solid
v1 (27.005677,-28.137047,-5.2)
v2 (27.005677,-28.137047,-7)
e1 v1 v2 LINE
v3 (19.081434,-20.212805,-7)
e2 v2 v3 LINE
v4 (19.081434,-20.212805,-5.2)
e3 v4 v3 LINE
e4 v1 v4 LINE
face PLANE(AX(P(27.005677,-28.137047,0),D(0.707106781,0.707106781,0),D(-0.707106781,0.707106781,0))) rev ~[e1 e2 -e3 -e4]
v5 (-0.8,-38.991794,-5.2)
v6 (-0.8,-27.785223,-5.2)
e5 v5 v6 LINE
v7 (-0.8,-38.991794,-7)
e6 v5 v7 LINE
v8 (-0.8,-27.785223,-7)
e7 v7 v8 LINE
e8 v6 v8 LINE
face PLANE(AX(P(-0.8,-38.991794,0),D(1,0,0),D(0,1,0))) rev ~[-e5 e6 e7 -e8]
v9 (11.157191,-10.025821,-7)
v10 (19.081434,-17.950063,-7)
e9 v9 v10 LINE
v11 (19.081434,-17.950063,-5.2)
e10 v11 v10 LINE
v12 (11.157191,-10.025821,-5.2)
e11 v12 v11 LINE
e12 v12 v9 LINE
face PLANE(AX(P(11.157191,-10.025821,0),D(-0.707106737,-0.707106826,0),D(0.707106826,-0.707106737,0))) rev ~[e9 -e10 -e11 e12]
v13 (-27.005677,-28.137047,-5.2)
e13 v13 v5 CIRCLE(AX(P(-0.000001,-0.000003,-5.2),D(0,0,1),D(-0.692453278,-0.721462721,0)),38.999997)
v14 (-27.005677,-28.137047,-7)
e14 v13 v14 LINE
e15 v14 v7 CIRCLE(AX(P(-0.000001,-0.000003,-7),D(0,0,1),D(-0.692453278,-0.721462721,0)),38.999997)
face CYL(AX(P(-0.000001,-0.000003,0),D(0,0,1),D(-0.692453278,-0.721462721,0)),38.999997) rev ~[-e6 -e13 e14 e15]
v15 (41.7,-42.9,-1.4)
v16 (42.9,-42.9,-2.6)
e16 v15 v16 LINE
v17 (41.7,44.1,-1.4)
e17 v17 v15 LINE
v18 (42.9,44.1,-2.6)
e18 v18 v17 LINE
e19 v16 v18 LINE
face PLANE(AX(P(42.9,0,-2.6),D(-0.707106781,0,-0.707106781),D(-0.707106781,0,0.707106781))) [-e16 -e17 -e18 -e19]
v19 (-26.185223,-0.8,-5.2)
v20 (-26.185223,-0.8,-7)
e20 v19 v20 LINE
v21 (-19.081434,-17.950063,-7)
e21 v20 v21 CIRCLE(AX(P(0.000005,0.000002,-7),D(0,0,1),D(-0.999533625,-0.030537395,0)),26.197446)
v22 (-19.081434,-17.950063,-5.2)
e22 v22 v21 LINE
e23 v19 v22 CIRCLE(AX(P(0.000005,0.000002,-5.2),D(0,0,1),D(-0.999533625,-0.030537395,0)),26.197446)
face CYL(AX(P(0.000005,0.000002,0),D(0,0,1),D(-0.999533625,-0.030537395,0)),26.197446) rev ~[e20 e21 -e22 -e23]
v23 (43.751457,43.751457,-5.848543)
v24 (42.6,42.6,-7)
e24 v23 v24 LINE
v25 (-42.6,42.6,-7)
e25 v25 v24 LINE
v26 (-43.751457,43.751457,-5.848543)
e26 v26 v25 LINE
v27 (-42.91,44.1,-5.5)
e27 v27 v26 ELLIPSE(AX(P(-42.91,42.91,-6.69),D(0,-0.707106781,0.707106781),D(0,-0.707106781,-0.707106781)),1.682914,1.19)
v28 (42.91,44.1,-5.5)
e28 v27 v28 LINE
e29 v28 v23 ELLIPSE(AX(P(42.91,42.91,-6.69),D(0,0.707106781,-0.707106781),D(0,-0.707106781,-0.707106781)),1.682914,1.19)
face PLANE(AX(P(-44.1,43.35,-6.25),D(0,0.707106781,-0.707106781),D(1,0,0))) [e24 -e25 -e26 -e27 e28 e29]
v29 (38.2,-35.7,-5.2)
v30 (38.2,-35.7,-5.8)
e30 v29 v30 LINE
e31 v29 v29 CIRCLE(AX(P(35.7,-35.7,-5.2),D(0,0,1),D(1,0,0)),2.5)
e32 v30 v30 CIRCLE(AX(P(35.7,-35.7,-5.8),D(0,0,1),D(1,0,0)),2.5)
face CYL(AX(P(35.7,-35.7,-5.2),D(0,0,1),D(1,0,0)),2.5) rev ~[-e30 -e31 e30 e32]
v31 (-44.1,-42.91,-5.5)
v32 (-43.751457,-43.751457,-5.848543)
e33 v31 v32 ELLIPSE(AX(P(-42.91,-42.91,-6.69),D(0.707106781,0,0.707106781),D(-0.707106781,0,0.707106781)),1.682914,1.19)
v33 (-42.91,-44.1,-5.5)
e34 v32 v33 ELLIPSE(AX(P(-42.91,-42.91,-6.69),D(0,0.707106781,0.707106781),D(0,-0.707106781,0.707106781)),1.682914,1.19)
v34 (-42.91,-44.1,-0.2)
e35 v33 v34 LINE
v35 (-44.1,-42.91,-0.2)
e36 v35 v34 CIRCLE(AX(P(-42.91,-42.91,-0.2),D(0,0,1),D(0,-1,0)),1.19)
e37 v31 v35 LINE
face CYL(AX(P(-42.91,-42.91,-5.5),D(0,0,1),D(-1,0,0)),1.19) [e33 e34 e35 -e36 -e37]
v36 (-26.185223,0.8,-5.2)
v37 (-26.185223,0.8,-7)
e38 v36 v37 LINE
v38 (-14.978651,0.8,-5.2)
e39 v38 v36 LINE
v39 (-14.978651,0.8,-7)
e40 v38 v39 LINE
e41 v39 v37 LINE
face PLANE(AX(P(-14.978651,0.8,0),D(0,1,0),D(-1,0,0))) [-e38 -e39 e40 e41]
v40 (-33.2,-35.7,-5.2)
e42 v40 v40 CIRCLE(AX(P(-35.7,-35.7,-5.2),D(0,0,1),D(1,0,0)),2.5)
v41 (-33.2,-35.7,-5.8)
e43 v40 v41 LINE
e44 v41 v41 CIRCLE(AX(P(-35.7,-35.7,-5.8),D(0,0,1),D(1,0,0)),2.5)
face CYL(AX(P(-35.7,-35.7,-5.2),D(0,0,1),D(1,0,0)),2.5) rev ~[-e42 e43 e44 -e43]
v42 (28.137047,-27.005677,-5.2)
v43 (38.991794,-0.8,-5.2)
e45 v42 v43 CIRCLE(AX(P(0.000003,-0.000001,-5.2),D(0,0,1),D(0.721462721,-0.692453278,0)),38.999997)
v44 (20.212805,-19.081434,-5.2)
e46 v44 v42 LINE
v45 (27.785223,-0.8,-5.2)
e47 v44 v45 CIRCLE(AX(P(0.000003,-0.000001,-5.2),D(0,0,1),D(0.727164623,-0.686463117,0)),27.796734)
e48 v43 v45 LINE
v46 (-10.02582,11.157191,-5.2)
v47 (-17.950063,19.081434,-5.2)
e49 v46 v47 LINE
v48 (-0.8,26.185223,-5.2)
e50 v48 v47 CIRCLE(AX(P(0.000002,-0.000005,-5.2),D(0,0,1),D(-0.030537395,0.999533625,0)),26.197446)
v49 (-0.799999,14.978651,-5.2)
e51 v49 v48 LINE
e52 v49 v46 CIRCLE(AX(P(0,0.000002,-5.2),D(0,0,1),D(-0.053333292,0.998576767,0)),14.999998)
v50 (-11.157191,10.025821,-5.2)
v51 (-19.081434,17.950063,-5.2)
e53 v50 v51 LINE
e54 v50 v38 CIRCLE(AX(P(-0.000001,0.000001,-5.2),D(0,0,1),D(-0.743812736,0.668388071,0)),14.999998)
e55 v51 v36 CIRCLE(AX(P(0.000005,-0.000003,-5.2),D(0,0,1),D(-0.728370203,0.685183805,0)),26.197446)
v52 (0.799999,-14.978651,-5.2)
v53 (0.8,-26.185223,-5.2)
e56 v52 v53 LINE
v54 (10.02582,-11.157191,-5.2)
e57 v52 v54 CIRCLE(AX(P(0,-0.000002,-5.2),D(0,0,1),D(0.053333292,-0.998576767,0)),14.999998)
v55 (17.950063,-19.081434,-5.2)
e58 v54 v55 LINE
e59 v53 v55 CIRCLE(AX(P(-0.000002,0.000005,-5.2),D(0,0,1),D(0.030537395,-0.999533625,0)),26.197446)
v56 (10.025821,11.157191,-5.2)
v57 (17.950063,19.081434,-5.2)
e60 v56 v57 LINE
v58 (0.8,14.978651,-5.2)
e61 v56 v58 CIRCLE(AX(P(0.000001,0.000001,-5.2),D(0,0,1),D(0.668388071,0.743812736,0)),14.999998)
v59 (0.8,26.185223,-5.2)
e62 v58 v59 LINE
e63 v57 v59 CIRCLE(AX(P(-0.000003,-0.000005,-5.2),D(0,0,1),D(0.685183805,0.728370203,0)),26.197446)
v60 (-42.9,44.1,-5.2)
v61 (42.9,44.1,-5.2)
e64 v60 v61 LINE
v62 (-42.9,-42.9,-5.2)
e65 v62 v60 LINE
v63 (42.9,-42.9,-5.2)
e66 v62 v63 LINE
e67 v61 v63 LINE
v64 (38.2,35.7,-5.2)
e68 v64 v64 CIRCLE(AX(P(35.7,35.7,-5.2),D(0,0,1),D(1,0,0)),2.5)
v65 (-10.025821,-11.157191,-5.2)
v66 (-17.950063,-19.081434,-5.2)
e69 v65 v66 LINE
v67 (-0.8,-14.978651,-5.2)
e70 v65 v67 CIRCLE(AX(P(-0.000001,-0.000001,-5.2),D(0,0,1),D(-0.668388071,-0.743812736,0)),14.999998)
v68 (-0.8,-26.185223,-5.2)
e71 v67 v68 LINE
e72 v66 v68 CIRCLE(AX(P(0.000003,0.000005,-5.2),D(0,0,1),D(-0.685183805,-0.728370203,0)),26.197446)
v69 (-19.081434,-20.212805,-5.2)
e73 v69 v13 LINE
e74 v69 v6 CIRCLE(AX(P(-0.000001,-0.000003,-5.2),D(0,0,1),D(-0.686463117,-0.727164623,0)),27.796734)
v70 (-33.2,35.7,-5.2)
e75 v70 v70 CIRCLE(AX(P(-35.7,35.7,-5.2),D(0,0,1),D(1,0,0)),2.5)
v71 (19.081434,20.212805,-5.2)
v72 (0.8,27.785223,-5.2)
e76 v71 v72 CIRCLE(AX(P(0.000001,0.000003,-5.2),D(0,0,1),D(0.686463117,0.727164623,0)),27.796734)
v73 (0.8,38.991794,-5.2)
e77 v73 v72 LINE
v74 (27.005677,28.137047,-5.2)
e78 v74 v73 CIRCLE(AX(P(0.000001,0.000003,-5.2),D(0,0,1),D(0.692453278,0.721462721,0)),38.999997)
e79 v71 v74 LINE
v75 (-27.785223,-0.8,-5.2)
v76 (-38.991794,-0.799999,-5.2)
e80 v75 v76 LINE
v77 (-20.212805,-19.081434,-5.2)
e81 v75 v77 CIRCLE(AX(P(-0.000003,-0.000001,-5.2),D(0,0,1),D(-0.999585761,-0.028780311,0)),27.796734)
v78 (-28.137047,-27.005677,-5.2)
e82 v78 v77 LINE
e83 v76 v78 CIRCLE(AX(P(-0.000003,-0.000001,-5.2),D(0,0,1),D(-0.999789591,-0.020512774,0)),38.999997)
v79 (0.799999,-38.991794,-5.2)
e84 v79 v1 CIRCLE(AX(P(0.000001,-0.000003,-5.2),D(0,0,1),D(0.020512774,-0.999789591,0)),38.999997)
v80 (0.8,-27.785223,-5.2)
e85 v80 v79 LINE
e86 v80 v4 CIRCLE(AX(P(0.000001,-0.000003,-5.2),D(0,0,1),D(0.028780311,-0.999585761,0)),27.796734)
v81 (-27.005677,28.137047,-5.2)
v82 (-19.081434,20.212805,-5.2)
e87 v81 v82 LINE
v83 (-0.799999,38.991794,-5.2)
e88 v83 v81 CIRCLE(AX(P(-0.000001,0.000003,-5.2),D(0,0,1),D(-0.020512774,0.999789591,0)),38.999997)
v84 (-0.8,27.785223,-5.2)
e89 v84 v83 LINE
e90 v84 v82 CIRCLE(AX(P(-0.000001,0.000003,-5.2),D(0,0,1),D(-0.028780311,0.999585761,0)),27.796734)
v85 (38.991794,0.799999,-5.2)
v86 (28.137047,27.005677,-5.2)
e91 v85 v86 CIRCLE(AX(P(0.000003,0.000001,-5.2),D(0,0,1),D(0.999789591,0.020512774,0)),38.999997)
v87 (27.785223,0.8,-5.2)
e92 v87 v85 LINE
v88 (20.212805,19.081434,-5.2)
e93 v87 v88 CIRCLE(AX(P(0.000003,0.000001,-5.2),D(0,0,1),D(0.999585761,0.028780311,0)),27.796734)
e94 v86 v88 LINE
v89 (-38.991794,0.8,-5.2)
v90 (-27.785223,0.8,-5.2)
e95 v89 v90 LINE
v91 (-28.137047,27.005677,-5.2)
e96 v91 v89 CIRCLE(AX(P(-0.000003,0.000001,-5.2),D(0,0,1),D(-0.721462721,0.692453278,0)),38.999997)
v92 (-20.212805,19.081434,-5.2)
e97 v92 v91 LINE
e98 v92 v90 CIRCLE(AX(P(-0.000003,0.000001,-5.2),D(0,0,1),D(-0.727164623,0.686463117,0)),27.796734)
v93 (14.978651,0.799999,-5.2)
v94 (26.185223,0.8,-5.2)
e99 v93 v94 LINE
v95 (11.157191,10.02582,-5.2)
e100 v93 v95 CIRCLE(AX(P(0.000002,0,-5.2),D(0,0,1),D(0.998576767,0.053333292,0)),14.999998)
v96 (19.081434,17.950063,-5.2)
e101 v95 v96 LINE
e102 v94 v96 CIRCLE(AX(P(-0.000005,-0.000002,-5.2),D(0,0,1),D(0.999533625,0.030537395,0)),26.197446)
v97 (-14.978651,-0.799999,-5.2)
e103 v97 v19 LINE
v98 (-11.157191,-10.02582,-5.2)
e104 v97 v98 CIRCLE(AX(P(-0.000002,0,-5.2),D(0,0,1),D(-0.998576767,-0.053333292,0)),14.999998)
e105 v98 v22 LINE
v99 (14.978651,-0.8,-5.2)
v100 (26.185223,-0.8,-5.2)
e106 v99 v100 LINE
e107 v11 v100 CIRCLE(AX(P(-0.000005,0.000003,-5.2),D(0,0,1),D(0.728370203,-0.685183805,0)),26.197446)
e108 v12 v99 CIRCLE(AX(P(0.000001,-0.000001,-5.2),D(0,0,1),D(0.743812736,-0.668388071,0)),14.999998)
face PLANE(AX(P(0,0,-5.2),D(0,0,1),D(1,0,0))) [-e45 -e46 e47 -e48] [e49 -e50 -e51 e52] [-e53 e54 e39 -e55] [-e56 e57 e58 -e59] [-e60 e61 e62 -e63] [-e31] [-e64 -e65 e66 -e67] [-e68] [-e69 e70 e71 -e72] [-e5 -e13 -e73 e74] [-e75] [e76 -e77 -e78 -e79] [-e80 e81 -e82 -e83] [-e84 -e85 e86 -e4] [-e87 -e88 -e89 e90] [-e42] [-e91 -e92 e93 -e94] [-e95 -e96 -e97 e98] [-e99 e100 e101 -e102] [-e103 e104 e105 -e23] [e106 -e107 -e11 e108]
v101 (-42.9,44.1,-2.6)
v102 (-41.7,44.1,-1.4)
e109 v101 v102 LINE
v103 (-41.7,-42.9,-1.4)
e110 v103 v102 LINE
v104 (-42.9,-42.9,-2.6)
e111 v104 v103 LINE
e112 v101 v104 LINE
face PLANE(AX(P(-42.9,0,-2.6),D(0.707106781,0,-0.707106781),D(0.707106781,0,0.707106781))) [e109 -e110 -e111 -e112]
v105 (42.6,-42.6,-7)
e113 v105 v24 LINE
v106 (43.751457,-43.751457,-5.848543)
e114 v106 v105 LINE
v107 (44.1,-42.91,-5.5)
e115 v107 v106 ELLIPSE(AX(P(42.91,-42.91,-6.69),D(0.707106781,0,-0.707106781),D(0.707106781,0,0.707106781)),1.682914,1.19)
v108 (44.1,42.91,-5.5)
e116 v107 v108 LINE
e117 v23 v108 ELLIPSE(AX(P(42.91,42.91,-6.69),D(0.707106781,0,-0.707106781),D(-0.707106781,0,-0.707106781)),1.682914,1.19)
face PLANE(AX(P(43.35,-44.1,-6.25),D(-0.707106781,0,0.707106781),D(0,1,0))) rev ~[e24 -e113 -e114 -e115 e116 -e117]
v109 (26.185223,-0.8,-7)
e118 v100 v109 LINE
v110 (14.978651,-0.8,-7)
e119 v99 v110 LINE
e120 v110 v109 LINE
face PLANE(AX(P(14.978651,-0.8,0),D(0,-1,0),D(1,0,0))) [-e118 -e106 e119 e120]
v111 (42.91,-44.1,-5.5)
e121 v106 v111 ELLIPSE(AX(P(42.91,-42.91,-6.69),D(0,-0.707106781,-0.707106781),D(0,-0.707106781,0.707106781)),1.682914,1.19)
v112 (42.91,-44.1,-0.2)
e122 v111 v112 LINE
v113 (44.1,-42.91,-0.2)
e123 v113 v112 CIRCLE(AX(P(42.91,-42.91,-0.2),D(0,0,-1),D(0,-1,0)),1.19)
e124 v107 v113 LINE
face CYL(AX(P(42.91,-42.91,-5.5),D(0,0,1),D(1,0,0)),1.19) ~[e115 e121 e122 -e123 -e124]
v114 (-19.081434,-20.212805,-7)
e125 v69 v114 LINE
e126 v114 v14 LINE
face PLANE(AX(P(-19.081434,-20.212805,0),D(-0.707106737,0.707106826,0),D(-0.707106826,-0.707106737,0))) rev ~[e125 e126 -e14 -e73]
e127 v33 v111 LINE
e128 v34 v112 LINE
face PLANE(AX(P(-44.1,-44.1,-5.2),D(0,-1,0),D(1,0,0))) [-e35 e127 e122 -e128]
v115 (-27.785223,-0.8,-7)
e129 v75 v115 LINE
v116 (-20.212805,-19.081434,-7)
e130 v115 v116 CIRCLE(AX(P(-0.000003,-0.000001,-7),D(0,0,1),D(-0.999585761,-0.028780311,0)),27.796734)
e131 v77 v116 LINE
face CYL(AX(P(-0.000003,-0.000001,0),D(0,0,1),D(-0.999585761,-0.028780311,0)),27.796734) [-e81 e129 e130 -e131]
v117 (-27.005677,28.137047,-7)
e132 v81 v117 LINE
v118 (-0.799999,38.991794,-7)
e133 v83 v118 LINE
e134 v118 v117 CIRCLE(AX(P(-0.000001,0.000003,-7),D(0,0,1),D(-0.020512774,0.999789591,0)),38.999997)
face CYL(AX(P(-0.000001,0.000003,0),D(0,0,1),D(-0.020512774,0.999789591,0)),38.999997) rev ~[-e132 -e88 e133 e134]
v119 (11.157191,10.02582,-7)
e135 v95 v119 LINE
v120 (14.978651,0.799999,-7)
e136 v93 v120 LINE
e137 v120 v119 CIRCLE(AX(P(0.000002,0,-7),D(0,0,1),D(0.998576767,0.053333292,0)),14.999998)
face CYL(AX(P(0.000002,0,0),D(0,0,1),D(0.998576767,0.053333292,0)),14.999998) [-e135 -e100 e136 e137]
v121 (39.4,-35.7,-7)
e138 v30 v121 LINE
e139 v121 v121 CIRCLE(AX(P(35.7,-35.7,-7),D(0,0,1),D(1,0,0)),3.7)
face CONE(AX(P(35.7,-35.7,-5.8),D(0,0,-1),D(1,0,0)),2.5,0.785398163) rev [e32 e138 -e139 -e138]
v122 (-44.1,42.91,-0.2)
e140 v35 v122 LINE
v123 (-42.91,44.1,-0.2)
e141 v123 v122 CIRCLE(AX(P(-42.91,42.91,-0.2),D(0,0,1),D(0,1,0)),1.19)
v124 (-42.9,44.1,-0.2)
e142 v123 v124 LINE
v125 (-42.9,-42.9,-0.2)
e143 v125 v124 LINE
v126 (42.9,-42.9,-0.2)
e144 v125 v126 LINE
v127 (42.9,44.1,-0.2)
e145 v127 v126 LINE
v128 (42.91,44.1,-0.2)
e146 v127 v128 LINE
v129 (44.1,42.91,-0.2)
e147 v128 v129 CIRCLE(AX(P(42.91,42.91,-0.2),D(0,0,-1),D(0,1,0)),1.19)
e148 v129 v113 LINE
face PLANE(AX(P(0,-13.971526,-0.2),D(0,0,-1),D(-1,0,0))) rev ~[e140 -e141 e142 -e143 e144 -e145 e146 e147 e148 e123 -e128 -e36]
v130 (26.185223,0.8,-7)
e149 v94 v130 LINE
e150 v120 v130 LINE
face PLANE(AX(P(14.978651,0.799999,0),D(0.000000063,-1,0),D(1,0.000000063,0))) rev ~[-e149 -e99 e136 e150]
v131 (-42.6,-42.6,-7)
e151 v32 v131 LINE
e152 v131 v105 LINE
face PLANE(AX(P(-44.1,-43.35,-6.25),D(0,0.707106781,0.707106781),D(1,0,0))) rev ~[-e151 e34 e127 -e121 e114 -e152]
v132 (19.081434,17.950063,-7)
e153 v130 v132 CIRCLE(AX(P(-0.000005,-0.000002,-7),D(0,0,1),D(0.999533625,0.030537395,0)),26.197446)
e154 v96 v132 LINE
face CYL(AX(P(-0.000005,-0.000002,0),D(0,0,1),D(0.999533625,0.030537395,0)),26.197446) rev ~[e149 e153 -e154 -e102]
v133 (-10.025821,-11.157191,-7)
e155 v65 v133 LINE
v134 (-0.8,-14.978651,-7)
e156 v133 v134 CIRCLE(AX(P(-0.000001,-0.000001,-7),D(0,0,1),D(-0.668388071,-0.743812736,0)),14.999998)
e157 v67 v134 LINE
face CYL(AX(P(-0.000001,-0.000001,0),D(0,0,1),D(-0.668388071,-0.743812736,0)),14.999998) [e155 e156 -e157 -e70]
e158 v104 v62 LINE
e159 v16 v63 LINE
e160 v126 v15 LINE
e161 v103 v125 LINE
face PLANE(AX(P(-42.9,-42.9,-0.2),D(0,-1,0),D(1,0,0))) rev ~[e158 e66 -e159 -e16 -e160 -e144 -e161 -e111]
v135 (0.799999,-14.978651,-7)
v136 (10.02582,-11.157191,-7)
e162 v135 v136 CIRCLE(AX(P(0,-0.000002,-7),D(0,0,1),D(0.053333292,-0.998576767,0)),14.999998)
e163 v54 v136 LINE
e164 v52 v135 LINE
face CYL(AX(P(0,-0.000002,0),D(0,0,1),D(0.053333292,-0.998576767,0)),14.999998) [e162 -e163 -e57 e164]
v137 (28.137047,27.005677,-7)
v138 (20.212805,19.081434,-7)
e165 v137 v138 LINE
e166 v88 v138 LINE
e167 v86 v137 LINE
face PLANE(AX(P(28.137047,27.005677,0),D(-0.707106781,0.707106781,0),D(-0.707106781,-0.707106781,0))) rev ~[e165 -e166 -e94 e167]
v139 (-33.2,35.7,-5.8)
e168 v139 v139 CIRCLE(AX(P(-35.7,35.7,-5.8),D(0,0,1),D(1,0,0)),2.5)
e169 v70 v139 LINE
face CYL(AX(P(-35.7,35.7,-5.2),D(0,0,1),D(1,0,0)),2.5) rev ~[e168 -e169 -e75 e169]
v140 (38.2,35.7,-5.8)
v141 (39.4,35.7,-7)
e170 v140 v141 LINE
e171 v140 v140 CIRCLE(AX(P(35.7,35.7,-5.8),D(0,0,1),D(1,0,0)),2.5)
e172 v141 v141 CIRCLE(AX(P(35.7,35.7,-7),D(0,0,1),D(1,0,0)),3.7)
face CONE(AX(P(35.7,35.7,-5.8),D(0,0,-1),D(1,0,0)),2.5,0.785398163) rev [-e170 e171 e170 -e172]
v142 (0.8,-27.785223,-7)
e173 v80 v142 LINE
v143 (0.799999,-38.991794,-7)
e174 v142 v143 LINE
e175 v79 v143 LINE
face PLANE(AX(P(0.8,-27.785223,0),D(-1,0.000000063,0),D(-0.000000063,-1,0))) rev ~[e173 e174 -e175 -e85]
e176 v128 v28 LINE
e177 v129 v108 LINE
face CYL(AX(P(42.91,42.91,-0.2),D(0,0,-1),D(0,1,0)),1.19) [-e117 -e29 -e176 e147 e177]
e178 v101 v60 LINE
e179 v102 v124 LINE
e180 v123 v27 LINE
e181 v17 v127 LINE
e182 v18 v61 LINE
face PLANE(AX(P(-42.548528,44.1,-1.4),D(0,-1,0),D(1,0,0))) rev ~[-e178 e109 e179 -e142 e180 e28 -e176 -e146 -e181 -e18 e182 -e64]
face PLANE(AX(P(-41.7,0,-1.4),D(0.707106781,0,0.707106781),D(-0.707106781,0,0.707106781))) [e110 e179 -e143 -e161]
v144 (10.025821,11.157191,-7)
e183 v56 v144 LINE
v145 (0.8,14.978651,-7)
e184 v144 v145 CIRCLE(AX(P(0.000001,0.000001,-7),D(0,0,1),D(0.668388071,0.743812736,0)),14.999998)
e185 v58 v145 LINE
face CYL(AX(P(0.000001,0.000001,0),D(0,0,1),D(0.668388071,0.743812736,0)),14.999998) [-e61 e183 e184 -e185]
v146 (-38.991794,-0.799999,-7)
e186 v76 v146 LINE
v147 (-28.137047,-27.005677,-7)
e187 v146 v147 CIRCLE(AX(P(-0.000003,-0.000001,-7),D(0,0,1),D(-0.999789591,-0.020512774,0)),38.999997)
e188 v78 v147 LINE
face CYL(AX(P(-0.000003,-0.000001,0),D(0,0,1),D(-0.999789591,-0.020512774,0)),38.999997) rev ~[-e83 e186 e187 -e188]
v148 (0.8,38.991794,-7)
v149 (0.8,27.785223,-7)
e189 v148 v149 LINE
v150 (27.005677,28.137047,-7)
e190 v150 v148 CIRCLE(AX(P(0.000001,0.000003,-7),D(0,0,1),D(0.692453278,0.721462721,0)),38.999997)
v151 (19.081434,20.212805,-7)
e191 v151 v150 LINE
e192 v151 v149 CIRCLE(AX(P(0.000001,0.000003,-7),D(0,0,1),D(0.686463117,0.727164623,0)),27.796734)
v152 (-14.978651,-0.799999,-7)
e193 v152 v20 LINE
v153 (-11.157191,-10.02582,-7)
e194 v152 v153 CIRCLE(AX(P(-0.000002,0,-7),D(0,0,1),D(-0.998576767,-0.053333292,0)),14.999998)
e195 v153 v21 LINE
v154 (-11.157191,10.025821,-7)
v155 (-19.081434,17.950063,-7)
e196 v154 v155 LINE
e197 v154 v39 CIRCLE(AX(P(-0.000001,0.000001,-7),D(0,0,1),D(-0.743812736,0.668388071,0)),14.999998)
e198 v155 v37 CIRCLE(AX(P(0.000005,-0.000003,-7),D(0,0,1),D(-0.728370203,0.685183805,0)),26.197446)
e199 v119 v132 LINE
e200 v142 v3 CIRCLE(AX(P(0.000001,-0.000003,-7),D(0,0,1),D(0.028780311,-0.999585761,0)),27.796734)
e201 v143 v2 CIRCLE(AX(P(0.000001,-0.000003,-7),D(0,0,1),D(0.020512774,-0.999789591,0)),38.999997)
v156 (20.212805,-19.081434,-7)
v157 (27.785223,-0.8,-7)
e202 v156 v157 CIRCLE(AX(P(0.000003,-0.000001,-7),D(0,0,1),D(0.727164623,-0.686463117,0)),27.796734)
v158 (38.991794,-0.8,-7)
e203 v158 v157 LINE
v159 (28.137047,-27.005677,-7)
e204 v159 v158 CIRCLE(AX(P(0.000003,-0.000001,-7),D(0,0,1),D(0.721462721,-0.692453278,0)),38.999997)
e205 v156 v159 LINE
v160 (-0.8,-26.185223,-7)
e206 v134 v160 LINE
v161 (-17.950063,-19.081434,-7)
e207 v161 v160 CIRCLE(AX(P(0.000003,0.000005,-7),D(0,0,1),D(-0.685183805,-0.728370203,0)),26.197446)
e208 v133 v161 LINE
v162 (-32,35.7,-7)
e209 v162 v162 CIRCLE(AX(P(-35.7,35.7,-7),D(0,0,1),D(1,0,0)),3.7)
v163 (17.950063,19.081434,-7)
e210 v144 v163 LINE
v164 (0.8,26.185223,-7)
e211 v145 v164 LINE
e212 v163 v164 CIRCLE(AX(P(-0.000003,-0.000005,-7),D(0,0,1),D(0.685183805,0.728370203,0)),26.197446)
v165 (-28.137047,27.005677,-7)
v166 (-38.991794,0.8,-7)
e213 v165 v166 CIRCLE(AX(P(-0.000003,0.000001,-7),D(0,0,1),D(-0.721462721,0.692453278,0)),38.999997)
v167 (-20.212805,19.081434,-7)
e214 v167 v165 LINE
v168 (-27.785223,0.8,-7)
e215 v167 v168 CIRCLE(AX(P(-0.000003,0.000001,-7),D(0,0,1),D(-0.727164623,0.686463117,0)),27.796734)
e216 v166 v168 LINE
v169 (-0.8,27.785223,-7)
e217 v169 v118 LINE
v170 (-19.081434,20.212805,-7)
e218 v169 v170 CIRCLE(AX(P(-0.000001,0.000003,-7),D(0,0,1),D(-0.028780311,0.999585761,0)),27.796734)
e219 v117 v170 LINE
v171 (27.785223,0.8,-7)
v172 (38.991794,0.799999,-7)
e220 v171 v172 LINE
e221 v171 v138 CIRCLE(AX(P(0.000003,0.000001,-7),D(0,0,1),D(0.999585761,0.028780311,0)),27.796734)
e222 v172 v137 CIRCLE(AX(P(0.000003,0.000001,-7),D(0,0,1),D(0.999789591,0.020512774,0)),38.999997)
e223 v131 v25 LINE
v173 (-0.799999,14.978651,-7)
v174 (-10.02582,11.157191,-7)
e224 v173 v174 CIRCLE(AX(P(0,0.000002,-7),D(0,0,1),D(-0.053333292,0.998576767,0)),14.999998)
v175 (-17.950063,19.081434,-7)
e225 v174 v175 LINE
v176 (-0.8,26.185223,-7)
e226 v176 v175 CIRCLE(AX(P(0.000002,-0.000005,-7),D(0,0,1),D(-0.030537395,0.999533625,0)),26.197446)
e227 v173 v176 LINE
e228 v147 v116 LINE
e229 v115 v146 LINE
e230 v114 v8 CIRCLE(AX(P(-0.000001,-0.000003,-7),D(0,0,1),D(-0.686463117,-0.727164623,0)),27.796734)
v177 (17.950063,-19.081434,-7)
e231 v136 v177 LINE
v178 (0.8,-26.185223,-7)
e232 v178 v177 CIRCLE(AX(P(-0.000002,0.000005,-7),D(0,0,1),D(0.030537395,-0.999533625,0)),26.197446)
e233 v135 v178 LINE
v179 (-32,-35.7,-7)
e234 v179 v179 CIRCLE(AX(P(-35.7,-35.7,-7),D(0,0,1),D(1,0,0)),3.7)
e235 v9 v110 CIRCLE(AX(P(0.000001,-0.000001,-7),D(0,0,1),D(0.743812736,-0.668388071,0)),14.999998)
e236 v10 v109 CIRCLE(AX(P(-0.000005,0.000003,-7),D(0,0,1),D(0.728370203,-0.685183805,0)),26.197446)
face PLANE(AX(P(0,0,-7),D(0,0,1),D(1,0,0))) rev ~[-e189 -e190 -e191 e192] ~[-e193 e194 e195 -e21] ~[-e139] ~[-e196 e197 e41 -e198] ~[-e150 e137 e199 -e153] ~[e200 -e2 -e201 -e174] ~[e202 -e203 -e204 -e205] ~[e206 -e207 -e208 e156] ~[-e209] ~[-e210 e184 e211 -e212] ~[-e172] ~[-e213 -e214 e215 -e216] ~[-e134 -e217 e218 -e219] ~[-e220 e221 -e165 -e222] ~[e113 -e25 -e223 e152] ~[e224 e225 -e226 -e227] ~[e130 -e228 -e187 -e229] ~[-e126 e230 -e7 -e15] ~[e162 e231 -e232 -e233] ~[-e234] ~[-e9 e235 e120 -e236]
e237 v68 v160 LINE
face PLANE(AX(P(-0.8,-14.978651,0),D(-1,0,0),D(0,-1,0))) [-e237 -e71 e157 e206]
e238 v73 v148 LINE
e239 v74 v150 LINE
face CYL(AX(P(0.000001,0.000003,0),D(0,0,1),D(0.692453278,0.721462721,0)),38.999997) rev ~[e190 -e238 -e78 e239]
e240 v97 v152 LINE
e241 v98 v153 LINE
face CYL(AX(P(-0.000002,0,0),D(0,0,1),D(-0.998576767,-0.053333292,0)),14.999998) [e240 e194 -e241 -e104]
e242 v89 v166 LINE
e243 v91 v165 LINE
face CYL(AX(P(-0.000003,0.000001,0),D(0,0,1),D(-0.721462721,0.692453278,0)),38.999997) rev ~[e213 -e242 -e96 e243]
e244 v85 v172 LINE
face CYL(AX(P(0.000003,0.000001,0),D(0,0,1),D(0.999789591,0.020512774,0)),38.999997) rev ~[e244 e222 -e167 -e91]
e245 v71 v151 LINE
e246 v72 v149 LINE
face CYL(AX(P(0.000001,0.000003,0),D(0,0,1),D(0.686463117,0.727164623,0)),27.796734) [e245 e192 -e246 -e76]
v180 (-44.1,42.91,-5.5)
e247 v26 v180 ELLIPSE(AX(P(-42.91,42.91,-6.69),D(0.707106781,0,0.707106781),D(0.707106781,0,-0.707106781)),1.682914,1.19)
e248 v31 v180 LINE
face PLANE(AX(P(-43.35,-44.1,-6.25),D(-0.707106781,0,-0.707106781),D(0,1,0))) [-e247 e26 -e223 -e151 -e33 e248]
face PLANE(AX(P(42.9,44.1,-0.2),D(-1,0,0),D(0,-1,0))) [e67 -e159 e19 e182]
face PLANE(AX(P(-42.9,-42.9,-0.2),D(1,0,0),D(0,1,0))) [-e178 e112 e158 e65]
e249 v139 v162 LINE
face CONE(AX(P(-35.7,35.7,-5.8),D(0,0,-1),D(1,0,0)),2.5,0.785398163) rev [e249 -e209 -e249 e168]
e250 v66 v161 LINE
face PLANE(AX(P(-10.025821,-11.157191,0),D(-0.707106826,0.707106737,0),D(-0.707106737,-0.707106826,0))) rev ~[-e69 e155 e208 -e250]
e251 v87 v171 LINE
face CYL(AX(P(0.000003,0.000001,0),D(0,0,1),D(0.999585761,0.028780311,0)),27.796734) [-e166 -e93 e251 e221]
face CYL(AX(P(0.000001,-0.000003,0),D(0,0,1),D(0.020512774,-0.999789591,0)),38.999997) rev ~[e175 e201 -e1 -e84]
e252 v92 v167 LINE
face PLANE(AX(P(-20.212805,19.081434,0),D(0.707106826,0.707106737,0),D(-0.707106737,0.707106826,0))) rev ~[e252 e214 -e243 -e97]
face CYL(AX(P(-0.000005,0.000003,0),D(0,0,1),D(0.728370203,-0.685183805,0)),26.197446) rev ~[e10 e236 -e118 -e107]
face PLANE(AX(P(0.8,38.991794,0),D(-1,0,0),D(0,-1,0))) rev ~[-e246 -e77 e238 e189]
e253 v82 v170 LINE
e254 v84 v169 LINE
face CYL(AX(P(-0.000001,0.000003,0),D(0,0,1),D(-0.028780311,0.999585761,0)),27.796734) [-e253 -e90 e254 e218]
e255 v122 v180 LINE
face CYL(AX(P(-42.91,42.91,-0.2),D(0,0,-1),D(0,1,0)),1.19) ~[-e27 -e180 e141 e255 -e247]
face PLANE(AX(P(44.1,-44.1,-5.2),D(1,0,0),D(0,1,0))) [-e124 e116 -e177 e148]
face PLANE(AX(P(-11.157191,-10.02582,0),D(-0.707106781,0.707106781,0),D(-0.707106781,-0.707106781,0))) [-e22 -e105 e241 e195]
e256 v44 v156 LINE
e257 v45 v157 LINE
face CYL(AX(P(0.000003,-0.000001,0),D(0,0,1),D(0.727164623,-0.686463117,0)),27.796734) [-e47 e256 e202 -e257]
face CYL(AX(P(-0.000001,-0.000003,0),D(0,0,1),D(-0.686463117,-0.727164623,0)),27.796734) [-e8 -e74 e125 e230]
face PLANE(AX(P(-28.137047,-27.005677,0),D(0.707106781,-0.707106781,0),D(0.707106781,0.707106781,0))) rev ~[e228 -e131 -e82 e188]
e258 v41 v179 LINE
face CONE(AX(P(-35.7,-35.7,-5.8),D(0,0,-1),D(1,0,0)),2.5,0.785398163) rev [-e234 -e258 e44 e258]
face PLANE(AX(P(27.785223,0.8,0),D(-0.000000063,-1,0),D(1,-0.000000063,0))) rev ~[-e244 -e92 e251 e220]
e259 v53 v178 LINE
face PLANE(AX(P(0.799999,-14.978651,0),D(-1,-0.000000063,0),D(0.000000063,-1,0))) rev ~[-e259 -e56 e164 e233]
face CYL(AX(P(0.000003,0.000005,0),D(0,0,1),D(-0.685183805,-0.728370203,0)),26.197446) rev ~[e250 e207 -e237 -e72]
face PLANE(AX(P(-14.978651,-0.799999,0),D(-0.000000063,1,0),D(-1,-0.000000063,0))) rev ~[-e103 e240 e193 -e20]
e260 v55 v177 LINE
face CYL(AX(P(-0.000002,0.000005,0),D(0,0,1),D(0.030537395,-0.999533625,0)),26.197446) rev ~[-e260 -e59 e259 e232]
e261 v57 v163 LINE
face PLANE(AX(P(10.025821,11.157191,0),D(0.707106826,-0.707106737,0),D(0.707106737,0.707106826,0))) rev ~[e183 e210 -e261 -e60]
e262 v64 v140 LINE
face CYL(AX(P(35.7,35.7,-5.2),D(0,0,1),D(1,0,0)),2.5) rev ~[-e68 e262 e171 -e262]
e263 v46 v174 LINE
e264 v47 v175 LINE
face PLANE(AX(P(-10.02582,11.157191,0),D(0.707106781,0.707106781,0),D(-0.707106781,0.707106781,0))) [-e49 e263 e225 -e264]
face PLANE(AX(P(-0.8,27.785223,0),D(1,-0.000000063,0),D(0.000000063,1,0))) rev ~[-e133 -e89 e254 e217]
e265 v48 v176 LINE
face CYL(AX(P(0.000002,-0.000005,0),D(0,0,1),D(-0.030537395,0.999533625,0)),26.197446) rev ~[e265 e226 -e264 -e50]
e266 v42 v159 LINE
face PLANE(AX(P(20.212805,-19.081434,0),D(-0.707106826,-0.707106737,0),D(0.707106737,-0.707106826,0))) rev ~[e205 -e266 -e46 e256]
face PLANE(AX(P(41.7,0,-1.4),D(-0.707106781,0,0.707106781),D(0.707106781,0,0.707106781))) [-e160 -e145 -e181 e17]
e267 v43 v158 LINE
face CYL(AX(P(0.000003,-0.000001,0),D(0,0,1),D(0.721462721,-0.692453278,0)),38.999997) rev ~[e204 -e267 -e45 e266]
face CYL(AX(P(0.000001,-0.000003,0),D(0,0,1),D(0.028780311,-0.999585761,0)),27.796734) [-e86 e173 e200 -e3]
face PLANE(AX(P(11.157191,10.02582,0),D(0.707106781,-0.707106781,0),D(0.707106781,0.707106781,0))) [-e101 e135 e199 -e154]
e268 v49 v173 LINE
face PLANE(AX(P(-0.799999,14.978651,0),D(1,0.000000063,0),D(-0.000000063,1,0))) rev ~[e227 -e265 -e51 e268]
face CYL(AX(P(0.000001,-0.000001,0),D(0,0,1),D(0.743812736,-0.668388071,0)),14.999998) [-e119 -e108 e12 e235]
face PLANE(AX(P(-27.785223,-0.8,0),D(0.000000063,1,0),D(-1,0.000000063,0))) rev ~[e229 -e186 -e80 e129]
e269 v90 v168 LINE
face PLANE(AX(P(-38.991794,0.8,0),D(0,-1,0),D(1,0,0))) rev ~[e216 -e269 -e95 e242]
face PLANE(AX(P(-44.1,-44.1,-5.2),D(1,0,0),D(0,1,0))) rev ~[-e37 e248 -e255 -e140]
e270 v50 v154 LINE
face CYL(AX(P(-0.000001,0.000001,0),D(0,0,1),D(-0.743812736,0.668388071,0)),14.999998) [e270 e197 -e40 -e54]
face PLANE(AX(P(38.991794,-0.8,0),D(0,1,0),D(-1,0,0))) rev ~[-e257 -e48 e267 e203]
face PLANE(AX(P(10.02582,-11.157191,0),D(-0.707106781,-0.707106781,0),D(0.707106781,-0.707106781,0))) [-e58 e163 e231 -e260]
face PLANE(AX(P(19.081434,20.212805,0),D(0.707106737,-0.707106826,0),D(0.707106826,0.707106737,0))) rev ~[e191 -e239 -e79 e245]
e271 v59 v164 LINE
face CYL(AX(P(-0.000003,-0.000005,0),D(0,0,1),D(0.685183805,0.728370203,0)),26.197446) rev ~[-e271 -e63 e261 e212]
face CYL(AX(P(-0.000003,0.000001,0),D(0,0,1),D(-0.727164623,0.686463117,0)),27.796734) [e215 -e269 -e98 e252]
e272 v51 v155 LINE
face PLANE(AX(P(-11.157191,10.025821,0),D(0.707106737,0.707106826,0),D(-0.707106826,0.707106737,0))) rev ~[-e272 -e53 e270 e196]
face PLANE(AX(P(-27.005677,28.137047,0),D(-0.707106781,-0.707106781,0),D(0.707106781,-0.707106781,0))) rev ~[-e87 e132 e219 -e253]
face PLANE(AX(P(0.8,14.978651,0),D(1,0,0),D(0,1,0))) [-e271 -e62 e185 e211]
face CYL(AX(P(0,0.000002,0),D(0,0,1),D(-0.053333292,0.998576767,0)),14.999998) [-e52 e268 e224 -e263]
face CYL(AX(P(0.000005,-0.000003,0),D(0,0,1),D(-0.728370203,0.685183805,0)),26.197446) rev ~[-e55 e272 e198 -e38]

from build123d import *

# Parameters (mm, degrees)
PAD008_DEPTH          = 5
SKETCH022_W           = 88.2
SKETCH022_H           = 88.2
SKETCH022_R           = 2.5
PAD009_DEPTH          = 1.8
CHAMFER004_SIZE       = 1.2
PAD010_DEPTH          = 44.1
POCKET006_DEPTH       = 256.838707
POLARPATTERN002_COUNT = 8
CHAMFER005_SIZE       = 1.5
FILLET003_R           = 1.19


with BuildPart() as part:
    # Sketch021 → Pad008 (new body)
    with BuildSketch(Plane.XY.offset(-0.2)):
        Polygon((-42.9, 42.9), (-42.9, -42.9), (42.9, -42.9), (42.9, 42.9), (42.9, 44.1), (44.1, 44.1), (44.1, -44.1), (-44.1, -44.1), (-44.1, 44.1), (-42.9, 44.1), align=None)
    extrude(amount=-PAD008_DEPTH)

    # Sketch022 → Pad009 (join)
    with BuildSketch(Plane.XY.offset(-5.2)):
        Rectangle(SKETCH022_W, SKETCH022_H)
        with Locations((-35.7, 35.7)):
            Circle(SKETCH022_R, mode=Mode.SUBTRACT)
        with Locations((35.7, 35.7)):
            Circle(SKETCH022_R, mode=Mode.SUBTRACT)
        with Locations((35.7, -35.7)):
            Circle(SKETCH022_R, mode=Mode.SUBTRACT)
        with Locations((-35.7, -35.7)):
            Circle(SKETCH022_R, mode=Mode.SUBTRACT)
    extrude(amount=-PAD009_DEPTH)

    # Chamfer004
    chamfer004_edges = [part.edges().sort_by_distance(p)[0] for p in [
        (-38.2, 35.7, -7),
        (-38.2, -35.7, -7),
        (33.2, -35.7, -7),
        (33.2, 35.7, -7),
    ]]
    chamfer(chamfer004_edges, length=CHAMFER004_SIZE)

    # Sketch023 → Pad010 (join, symmetric)
    with BuildSketch(Plane.XZ):
        Polygon((42.9, -0.2), (42.9, -2.6), (41.7, -1.4), align=None)
        Polygon((-42.9, -0.2), (-42.9, -2.6), (-41.7, -1.4), align=None)
    extrude(amount=PAD010_DEPTH, both=True)

    # Sketch024 → Pocket006 (cut, through all)
    with BuildSketch(Plane.XY):
        with BuildLine():
            ThreePointArc((27.005677, 28.137047), (14.924654, 36.031302), (0.8, 38.991794))
            Line((0.8, 38.991794), (0.8, 27.785223))
            ThreePointArc((19.081434, 20.212805), (10.637351, 25.680837), (0.8, 27.785223))
            Line((19.081434, 20.212805), (27.005677, 28.137047))
        make_face()
        with BuildLine():
            ThreePointArc((17.950063, 19.081434), (10.025326, 24.203279), (0.8, 26.185223))
            Line((0.8, 14.978651), (0.8, 26.185223))
            ThreePointArc((10.025821, 11.157191), (5.740251, 13.858193), (0.8, 14.978651))
            Line((10.025821, 11.157191), (17.950063, 19.081434))
        make_face()
    pocket006 = extrude(amount=-POCKET006_DEPTH, mode=Mode.SUBTRACT)

    # PolarPattern002: Pocket006 ×8 about axis
    polarpattern002_axis = Axis((0, 0, 0), (0, 0, 1))
    for i in range(1, POLARPATTERN002_COUNT):
        add(pocket006.rotate(polarpattern002_axis, i * 360 / POLARPATTERN002_COUNT), mode=Mode.SUBTRACT)

    # Chamfer005
    chamfer005_edges = [part.edges().sort_by_distance(p)[0] for p in [
        (-44.1, 0, -7),
        (0, -44.1, -7),
        (44.1, 0, -7),
        (0, 44.1, -7),
    ]]
    chamfer(chamfer005_edges, length=CHAMFER005_SIZE)

    # Fillet003
    fillet003_edges = [part.edges().sort_by_distance(p)[0] for p in [
        (-44.1, 44.1, -2.85),
        (-44.1, -44.1, -2.85),
        (44.1, 44.1, -2.85),
        (44.1, -44.1, -2.85),
    ]]
    fillet(fillet003_edges, radius=FILLET003_R)


solid = part.part
